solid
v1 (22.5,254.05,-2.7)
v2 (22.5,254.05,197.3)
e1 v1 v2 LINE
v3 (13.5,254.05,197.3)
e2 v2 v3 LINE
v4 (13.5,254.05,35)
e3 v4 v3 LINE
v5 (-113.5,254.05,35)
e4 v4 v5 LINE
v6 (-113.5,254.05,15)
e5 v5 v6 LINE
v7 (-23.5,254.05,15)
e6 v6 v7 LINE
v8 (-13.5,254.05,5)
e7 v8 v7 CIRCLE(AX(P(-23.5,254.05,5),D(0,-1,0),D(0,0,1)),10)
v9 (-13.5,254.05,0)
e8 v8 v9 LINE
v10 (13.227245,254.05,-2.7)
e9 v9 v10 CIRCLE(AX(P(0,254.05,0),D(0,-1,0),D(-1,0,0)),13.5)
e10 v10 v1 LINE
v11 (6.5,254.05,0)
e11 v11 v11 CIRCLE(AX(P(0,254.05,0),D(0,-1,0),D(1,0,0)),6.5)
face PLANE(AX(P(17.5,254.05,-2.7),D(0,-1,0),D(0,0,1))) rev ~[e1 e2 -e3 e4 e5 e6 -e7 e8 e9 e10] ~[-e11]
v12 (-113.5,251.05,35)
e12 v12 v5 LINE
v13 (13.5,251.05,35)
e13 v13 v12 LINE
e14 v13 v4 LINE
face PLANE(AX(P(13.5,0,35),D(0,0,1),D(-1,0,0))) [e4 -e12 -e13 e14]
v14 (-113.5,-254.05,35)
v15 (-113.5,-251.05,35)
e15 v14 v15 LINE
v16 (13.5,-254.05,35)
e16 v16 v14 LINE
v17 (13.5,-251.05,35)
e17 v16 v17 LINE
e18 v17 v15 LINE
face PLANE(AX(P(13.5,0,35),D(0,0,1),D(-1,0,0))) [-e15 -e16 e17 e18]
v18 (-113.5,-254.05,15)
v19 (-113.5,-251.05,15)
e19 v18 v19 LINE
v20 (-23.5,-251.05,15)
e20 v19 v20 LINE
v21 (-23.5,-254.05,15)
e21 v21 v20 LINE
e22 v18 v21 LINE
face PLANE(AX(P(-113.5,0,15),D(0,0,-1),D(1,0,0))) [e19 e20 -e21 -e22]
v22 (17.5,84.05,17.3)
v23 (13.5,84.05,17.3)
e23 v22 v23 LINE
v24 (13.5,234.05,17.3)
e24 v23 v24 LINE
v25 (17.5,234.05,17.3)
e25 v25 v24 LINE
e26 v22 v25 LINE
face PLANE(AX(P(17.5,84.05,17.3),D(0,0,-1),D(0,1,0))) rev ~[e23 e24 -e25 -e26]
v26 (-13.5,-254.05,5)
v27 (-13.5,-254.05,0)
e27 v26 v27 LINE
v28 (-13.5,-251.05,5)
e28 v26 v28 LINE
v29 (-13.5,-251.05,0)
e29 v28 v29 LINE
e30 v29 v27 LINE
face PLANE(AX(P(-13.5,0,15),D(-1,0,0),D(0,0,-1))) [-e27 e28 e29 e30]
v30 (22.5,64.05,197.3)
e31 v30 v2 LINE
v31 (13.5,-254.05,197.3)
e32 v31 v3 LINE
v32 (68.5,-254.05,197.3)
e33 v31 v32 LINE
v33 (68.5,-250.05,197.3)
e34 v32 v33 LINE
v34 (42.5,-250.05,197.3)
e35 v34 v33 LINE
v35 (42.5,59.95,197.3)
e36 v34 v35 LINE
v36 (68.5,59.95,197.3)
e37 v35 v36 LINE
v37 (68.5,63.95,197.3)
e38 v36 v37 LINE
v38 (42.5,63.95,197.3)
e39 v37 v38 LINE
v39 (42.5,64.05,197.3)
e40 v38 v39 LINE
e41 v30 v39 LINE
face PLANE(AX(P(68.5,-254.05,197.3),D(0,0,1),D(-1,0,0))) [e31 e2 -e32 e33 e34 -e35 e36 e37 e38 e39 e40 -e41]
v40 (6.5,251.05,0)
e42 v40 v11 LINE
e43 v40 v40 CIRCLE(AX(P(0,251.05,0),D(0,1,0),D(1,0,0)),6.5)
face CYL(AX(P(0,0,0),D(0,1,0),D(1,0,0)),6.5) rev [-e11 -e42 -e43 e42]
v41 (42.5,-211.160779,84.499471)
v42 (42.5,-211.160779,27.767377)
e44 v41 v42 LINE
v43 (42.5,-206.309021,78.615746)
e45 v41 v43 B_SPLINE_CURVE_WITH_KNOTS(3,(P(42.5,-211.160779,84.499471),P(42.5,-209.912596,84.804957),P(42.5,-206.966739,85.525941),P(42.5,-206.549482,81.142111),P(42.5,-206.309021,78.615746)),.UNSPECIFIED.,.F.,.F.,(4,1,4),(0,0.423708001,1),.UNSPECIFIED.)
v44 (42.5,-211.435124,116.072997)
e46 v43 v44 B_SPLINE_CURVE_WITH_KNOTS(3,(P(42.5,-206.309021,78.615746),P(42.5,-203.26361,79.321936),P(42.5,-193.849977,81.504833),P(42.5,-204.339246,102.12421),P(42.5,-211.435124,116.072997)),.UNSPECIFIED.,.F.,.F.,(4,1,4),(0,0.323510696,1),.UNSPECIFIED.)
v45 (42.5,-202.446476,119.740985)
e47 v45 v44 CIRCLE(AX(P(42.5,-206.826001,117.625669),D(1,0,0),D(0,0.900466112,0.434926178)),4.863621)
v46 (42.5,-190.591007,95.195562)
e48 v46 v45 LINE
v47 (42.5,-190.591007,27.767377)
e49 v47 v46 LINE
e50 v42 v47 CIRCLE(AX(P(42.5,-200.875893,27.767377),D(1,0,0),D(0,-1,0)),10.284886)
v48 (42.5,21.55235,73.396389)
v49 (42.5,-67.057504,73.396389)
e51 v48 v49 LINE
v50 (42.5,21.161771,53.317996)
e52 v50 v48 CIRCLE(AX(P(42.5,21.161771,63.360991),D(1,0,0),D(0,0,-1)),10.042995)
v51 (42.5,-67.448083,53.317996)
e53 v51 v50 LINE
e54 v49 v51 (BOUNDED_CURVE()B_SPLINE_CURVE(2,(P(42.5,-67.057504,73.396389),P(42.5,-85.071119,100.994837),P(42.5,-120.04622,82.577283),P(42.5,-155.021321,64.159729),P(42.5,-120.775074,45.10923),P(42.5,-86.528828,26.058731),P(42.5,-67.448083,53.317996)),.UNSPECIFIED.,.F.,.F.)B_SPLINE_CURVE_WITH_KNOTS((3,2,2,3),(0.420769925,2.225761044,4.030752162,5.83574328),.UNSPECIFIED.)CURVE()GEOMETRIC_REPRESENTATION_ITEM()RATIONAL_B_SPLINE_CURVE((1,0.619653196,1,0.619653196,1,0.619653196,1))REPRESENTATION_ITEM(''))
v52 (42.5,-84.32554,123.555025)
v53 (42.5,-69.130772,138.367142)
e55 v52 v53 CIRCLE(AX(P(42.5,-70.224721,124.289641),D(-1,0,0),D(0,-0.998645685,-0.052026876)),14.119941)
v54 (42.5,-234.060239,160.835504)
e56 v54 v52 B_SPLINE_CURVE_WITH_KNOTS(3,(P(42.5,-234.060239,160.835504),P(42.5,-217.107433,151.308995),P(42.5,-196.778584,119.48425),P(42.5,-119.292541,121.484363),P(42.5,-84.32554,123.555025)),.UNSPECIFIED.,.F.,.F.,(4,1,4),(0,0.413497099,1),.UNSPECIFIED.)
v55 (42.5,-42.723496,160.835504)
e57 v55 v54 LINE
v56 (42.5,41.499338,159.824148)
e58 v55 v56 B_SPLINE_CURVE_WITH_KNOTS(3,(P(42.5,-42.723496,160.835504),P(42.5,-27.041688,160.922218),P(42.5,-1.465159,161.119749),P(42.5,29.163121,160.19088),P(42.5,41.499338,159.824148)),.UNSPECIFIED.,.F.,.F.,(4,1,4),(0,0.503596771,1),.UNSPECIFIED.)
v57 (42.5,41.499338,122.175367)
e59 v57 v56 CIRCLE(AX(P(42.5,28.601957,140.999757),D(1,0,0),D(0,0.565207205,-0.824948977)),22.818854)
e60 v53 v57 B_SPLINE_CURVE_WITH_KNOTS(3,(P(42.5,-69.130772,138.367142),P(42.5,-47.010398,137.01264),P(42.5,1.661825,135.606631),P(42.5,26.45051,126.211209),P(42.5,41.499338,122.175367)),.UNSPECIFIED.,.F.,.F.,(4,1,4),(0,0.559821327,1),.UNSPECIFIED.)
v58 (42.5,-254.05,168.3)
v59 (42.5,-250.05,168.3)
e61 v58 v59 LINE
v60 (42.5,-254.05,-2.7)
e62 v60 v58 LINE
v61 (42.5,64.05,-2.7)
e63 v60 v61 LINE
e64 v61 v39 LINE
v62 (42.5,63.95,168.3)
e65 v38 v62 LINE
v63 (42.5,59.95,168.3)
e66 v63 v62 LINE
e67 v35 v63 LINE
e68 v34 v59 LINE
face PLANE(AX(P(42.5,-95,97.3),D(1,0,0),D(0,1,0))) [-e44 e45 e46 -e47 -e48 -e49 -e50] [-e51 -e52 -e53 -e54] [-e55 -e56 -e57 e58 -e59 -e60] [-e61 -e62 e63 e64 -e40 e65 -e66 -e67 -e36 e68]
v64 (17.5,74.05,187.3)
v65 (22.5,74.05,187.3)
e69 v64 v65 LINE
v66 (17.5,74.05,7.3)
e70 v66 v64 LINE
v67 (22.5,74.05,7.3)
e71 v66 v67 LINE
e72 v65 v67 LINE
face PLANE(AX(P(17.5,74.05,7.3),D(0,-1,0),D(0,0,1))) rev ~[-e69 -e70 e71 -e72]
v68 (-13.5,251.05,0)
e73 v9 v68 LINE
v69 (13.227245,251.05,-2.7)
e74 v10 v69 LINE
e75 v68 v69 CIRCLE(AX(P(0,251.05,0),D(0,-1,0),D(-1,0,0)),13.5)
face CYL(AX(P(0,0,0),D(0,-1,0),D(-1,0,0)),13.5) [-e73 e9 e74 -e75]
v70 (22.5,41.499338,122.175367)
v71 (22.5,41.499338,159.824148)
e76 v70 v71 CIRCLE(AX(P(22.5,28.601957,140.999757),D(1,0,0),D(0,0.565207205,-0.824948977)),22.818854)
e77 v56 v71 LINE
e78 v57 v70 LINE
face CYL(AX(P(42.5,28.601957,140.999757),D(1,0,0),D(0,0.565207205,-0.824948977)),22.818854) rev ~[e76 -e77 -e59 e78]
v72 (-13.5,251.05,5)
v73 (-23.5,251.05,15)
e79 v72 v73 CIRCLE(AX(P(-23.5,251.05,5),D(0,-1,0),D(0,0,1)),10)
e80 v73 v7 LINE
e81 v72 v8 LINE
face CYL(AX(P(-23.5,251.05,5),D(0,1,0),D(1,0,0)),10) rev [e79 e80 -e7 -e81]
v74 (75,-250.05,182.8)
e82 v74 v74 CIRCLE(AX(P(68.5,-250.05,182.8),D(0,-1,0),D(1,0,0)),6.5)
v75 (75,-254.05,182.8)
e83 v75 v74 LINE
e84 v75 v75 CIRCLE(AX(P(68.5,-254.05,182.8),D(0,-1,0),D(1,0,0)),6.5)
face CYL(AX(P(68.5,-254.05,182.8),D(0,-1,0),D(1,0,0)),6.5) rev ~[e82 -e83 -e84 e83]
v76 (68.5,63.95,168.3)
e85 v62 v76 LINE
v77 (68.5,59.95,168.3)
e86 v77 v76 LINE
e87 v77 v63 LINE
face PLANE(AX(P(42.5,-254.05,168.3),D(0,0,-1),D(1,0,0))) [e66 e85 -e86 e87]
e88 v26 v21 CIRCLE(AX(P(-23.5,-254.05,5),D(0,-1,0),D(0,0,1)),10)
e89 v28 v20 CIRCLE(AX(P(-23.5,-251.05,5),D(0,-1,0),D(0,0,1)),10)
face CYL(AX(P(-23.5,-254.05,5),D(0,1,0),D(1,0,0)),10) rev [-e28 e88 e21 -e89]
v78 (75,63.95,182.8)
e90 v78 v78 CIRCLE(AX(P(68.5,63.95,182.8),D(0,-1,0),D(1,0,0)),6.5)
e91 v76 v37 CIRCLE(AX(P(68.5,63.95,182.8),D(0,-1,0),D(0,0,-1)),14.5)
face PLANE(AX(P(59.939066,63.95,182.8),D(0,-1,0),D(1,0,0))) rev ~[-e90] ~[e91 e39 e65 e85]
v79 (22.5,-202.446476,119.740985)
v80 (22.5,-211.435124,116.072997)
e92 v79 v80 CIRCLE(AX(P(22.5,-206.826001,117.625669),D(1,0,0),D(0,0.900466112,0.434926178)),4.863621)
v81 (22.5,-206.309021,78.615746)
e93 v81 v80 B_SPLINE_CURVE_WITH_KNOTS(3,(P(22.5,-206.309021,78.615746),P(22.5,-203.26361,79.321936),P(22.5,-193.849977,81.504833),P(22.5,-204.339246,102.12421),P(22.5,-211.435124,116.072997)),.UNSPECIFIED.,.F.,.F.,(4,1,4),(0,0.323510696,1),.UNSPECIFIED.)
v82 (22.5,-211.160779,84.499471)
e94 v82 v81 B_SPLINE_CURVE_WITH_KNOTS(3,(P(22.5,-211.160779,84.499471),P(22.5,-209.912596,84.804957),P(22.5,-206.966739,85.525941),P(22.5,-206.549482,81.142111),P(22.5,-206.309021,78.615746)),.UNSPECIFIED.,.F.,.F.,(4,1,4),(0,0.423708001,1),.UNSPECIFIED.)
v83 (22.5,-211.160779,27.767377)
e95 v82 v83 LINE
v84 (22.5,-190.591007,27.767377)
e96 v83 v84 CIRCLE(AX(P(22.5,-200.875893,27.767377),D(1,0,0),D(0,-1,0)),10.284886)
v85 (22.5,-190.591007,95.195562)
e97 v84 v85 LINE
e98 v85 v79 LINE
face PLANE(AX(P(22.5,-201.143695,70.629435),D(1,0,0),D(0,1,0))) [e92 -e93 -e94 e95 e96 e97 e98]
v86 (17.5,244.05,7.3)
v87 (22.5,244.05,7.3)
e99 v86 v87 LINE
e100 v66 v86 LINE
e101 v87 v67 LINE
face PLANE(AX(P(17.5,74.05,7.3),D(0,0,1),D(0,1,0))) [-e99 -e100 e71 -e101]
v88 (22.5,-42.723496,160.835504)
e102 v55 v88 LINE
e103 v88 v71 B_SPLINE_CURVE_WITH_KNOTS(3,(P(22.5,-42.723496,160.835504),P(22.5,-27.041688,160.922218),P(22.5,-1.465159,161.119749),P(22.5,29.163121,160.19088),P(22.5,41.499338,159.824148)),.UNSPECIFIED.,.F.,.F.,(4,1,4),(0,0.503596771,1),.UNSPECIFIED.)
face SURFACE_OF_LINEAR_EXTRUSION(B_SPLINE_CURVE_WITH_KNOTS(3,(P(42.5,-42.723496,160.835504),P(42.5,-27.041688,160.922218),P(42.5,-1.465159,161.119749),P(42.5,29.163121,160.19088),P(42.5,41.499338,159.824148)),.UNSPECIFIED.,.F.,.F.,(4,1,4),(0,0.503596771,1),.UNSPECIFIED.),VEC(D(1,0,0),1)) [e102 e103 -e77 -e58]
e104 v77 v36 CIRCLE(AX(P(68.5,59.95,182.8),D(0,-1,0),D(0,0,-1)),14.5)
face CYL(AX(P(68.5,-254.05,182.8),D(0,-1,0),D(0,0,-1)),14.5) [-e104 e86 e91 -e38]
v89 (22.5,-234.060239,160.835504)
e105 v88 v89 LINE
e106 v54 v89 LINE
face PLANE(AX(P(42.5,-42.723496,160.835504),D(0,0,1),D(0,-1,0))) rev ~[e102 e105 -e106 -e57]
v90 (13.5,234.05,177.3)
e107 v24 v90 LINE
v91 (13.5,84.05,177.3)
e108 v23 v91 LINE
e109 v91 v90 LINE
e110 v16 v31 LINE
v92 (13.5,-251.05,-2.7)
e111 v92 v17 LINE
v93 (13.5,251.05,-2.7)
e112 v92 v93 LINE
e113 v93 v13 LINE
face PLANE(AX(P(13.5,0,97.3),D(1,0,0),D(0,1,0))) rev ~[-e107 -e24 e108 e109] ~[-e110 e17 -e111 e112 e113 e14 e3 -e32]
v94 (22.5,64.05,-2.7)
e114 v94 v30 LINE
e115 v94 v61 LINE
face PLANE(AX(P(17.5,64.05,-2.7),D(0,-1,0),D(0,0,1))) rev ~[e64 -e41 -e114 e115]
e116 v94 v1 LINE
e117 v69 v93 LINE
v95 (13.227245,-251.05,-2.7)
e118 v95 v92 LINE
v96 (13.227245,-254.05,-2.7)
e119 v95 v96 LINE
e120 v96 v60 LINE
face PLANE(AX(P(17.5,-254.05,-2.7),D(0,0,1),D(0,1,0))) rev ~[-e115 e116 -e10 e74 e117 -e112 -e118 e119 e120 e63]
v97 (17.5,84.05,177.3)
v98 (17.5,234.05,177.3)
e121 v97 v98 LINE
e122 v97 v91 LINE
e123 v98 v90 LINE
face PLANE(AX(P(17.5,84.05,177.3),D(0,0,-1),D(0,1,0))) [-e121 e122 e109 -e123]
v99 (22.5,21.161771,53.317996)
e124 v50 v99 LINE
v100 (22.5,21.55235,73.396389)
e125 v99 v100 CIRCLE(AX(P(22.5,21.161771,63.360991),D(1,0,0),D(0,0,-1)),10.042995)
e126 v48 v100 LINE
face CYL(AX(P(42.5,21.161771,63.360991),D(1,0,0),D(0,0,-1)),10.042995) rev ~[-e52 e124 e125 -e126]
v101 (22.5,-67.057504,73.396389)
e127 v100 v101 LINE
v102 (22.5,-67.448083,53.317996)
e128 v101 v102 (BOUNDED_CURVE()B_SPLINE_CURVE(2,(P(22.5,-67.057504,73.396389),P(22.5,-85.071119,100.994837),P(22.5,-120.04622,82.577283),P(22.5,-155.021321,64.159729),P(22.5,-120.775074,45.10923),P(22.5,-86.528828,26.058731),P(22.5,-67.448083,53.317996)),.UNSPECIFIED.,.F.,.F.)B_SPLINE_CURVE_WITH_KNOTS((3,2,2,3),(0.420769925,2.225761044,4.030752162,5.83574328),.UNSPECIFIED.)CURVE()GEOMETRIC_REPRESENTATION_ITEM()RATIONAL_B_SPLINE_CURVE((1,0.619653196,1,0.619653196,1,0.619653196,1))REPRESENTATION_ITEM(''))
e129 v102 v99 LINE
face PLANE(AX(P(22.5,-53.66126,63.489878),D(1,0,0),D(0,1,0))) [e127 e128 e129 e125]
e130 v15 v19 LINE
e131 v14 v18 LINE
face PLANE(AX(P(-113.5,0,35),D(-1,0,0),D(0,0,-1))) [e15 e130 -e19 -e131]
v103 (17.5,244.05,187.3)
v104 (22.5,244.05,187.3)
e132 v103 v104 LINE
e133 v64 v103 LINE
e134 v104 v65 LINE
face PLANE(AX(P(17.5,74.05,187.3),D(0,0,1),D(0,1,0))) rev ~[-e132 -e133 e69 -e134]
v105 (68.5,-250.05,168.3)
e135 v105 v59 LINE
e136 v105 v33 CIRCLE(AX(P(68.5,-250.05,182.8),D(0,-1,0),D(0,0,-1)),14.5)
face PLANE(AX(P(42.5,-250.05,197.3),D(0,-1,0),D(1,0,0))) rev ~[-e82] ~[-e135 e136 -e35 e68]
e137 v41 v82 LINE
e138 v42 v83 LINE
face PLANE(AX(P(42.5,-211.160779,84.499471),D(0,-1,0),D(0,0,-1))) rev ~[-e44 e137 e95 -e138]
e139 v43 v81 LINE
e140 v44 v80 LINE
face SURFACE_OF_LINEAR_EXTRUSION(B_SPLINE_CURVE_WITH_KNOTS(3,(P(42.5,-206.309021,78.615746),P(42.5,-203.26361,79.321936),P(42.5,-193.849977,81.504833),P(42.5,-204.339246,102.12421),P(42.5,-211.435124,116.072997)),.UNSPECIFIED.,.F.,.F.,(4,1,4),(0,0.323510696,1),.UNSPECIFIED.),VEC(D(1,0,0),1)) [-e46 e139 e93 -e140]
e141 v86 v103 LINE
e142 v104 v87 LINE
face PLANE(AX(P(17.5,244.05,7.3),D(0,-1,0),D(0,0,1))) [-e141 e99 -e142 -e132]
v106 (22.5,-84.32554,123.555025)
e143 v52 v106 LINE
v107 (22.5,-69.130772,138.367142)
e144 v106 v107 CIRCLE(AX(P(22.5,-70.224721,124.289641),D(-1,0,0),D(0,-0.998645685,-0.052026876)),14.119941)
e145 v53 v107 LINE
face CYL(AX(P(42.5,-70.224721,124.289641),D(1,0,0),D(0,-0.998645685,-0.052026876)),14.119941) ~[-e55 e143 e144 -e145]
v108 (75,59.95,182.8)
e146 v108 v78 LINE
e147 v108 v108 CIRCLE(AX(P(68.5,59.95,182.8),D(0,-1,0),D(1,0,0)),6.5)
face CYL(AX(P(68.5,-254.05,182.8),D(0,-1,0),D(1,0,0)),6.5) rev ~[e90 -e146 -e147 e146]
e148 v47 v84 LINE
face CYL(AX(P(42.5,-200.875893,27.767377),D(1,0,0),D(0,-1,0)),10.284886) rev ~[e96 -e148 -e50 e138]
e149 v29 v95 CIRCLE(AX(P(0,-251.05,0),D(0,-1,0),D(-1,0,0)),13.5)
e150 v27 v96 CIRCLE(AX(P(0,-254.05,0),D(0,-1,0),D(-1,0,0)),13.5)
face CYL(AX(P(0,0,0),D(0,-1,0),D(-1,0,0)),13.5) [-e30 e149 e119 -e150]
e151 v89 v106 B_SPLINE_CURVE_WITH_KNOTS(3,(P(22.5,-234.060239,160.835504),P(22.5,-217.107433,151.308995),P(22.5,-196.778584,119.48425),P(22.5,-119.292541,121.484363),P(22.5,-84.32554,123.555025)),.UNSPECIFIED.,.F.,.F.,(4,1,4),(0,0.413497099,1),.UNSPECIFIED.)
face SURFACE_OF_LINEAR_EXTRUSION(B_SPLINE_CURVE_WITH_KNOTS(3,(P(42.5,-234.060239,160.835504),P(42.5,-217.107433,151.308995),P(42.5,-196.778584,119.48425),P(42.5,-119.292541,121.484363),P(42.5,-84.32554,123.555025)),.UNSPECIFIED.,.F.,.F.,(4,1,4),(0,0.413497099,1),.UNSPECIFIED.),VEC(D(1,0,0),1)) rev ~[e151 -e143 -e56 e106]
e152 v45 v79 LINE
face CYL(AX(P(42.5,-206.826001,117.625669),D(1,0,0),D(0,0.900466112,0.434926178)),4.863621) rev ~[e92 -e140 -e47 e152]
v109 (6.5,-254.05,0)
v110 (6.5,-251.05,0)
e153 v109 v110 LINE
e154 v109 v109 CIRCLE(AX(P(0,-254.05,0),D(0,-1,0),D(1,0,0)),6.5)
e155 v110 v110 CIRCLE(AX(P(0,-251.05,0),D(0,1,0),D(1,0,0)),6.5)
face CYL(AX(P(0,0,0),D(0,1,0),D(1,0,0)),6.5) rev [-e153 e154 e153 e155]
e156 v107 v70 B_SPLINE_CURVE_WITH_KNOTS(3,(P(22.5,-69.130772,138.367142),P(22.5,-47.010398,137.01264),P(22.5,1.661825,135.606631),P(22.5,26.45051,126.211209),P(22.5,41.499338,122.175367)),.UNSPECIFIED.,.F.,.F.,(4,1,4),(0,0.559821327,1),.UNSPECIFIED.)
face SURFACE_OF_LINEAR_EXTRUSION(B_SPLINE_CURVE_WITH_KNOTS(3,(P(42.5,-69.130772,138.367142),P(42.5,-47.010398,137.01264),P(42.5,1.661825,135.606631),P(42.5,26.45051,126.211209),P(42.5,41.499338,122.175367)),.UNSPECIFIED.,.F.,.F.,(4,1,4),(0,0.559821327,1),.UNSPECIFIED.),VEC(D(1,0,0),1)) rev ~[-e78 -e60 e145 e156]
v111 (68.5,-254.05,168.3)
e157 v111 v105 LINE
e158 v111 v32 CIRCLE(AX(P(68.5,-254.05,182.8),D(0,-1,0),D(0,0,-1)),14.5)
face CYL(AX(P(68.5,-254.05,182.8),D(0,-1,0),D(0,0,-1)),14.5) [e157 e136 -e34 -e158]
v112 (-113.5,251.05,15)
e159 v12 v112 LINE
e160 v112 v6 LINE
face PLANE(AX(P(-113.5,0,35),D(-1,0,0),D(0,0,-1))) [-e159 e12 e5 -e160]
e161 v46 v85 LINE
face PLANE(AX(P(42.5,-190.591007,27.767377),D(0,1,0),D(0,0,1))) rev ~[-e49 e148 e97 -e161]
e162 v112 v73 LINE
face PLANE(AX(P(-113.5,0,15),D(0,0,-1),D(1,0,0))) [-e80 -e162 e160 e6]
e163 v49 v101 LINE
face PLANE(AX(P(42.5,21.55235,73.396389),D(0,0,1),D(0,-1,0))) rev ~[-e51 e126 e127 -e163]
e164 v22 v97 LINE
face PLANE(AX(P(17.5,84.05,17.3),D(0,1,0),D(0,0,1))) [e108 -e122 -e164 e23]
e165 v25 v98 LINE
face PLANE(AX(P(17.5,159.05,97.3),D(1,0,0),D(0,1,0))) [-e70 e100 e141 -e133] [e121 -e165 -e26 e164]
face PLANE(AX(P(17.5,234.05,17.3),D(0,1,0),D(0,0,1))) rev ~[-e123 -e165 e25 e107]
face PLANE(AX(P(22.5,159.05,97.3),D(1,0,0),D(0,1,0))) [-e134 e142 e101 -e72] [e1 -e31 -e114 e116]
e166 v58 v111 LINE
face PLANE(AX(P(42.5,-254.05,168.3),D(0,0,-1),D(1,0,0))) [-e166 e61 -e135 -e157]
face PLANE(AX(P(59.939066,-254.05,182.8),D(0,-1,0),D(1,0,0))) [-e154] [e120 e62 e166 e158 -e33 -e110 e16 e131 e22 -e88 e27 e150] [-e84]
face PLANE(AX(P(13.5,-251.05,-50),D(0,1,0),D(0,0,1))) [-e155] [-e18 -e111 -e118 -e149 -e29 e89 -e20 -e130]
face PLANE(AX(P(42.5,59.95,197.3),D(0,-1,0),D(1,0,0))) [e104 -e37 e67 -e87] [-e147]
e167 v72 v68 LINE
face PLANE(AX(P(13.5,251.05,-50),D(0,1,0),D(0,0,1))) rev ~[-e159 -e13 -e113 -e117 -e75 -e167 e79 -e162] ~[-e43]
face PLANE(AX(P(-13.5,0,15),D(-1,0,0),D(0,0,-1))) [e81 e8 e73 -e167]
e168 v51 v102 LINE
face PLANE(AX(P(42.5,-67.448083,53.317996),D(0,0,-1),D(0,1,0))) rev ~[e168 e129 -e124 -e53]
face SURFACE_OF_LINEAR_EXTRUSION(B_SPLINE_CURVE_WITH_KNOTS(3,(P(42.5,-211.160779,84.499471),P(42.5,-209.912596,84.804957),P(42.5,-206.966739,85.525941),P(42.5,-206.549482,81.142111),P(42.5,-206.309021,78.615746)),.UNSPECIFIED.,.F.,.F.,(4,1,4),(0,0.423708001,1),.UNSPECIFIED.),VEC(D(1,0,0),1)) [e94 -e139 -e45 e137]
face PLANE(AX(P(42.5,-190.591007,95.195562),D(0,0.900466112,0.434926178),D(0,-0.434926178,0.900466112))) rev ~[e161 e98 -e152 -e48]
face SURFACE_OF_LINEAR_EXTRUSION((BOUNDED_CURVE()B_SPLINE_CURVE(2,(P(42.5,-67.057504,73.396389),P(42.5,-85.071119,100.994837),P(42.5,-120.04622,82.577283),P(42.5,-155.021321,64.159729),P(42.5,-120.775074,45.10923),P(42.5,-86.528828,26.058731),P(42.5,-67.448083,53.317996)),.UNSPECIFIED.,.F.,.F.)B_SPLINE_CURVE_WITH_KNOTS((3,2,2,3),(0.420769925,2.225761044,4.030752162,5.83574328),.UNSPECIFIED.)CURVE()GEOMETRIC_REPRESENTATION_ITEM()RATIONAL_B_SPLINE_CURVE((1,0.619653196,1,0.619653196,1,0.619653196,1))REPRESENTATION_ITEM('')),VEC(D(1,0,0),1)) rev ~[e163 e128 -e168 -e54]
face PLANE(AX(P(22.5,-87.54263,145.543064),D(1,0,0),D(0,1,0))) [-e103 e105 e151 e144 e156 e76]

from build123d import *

# Parameters (mm, degrees)
F0_R      = 6.5
F1_DEPTH  = 254.05
F2_W      = 502.1
F2_H      = 100
F3_DEPTH  = 140
F4_R      = 10
F5_W      = 508.1
F5_H      = 200
F6_DEPTH  = 4
F7_W      = 150
F7_H      = 160
F8_DEPTH  = 25
F9_W      = 190
F9_H      = 200
F10_DEPTH = 5
F11_W     = 170
F11_H     = 180
F12_DEPTH = 25
F13_W     = 318.1
F13_H     = 200
F14_DEPTH = 25
F16_DEPTH = 20
F17_R     = 6.5
F18_DEPTH = 318
F19_W     = 52
F19_H     = 310
F20_DEPTH = 30


with BuildPart() as f1:
    # F0 (on Front) → F1 (new body, symmetric)
    with BuildSketch(Plane.XZ):
        with BuildLine():
            Line((-13.5, 15), (-13.5, 0))
            ThreePointArc((-13.5, 0), (-1.3568709871, -13.4316380656), (13.227244611, -2.7))
            Line((13.227244611, -2.7), (13.5, -2.7))
            Line((13.5, -2.7), (13.5, 15))
            Line((13.5, 15), (13.5, 35))
            Line((13.5, 35), (-113.5, 35))
            Line((-113.5, 35), (-113.5, 15))
            Line((-113.5, 15), (-13.5, 15))
        make_face()
        Circle(F0_R, mode=Mode.SUBTRACT)
    extrude(amount=F1_DEPTH, both=True)

    # F2 (on face) → F3 (cut)
    with BuildSketch(Plane.YZ.offset(13.5)):
        Rectangle(F2_W, F2_H)
    extrude(amount=-F3_DEPTH, mode=Mode.SUBTRACT)

    # F4
    f4_edges = [f1.edges().sort_by_distance(p)[0] for p in [
        (-13.5, -252.55, 15),
        (-13.5, 252.55, 15),
    ]]
    fillet(f4_edges, radius=F4_R)

    # F5 (on face) → F6 (join)
    with BuildSketch(Plane.YZ.offset(13.5)):
        with Locations((0, 97.3)):
            Rectangle(F5_W, F5_H)
    extrude(amount=F6_DEPTH)

    # F7 (on face) → F8 (cut)
    with BuildSketch(Plane.YZ.offset(17.5)):
        with Locations((159.05, 97.3)):
            Rectangle(F7_W, F7_H)
    extrude(amount=-F8_DEPTH, mode=Mode.SUBTRACT)

    # F9 (on face) → F10 (join)
    with BuildSketch(Plane.YZ.offset(17.5)):
        with Locations((159.05, 97.3)):
            Rectangle(F9_W, F9_H)
    extrude(amount=F10_DEPTH)

    # F11 (on face) → F12 (cut)
    with BuildSketch(Plane.YZ.offset(17.5)):
        with Locations((159.05, 97.3)):
            Rectangle(F11_W, F11_H)
    extrude(amount=F12_DEPTH, mode=Mode.SUBTRACT)

    # F13 (on face) → F14 (join)
    with BuildSketch(Plane.YZ.offset(17.5)):
        with Locations((-95, 97.3)):
            Rectangle(F13_W, F13_H)
    extrude(amount=F14_DEPTH)

    # F15 (on face) → F16 (cut)
    with BuildSketch(Plane.YZ.offset(42.5)):
        with BuildLine():
            Line((-42.7234955132, 160.8355042394), (-234.0602389828, 160.8355042394))
            add(Edge.make_bspline(
                [(-234.0602389828, 160.8355042394), (-217.1074327426, 151.3089947091), (-196.7785844767, 119.4842501759), (-119.2925410931, 121.4843631106), (-84.3255399594, 123.5550247597)],
                knots=[0, 0, 0, 0, 0.4134970992, 1, 1, 1, 1], degree=3))
            ThreePointArc((-84.3255399594, 123.5550247597), (-80.0809052846, 134.4004465368), (-69.1307716391, 138.367141659))
            add(Edge.make_bspline(
                [(-69.1307716391, 138.367141659), (-47.0103981225, 137.0126396602), (1.6618247246, 135.6066305681), (26.4505103488, 126.2112086953), (41.4993381181, 122.1753671593)],
                knots=[0, 0, 0, 0, 0.5598213266, 1, 1, 1, 1], degree=3))
            ThreePointArc((41.4993381181, 122.1753671593), (51.4208114186, 140.9997574198), (41.4993381181, 159.8241476803))
            add(Edge.make_bspline(
                [(-42.7234955132, 160.8355042394), (-27.0416883232, 160.9222176304), (-1.4651588493, 161.1197494684), (29.1631212378, 160.1908804879), (41.4993381181, 159.8241476803)],
                knots=[0, 0, 0, 0, 0.5035967712, 1, 1, 1, 1], degree=3))
        make_face()
        with BuildLine():
            Line((21.5523498238, 73.3963885321), (-67.0575042699, 73.3963885321))
            add(Edge.make_bspline(
                [(-67.0575042699, 73.3963885321), (-85.0711185917, 100.9948365173), (-120.0462196172, 82.577282884), (-155.0213206427, 64.1597292506), (-120.7750741023, 45.1092301127), (-86.5288275619, 26.0587309749), (-67.4480830546, 53.317995912)],
                knots=[0.4207699255, 0.4207699255, 0.4207699255, 2.2257610437, 2.2257610437, 4.0307521619, 4.0307521619, 5.83574328, 5.83574328, 5.83574328], degree=2, weights=[1, 0.6196531961, 1, 0.6196531961, 1, 0.6196531961, 1]))
            Line((-67.4480830546, 53.317995912), (21.1617710391, 53.317995912))
            ThreePointArc((21.1617710391, 53.317995912), (31.2028666218, 63.1656647881), (21.5523498238, 73.3963885321))
        make_face()
        with BuildLine():
            ThreePointArc((-211.1607789993, 27.7673769742), (-200.8758932352, 17.4824912101), (-190.5910074711, 27.7673769742))
            Line((-190.5910074711, 27.7673769742), (-190.5910074711, 78.6157455295))
            Line((-190.5910074711, 78.6157455295), (-190.5910074711, 95.1955616474))
            Line((-190.5910074711, 95.1955616474), (-202.446475625, 119.7409853339))
            ThreePointArc((-202.446475625, 119.7409853339), (-208.6635845365, 122.1287897822), (-211.4351242781, 116.0729974508))
            add(Edge.make_bspline(
                [(-206.3090205193, 78.6157455295), (-203.2636096895, 79.3219361096), (-193.8499770894, 81.5048332746), (-204.3392460287, 102.1242097799), (-211.4351242781, 116.0729974508)],
                knots=[0, 0, 0, 0, 0.3235106955, 1, 1, 1, 1], degree=3))
            add(Edge.make_bspline(
                [(-211.1607789993, 84.4994708896), (-209.9125958931, 84.8049572899), (-206.9667390663, 85.5259406083), (-206.5494822717, 81.1421112915), (-206.3090205193, 78.6157455295)],
                knots=[0, 0, 0, 0, 0.4237080006, 1, 1, 1, 1], degree=3))
            Line((-211.1607789993, 84.4994708896), (-211.1607789993, 78.6157455295))
            Line((-211.1607789993, 78.6157455295), (-211.1607789993, 27.7673769742))
        make_face()
    extrude(amount=-F16_DEPTH, mode=Mode.SUBTRACT)

    # F17 (on face) → F18 (join)
    with BuildSketch(Plane.XZ.offset(254.05)):
        with BuildLine():
            Line((68.5, 197.3), (42.5, 197.3))
            Line((42.5, 197.3), (42.5, 168.3))
            Line((42.5, 168.3), (68.5, 168.3))
            ThreePointArc((68.5, 168.3), (83, 182.8), (68.5, 197.3))
        make_face()
        with Locations((68.5, 182.8)):
            Circle(F17_R, mode=Mode.SUBTRACT)
    extrude(amount=-F18_DEPTH)

    # F19 (on face) → F20 (cut)
    with BuildSketch(Plane.XY.offset(197.3)):
        with Locations((68.5, -95.05)):
            Rectangle(F19_W, F19_H)
    extrude(amount=-F20_DEPTH, mode=Mode.SUBTRACT)


solid = f1.part
